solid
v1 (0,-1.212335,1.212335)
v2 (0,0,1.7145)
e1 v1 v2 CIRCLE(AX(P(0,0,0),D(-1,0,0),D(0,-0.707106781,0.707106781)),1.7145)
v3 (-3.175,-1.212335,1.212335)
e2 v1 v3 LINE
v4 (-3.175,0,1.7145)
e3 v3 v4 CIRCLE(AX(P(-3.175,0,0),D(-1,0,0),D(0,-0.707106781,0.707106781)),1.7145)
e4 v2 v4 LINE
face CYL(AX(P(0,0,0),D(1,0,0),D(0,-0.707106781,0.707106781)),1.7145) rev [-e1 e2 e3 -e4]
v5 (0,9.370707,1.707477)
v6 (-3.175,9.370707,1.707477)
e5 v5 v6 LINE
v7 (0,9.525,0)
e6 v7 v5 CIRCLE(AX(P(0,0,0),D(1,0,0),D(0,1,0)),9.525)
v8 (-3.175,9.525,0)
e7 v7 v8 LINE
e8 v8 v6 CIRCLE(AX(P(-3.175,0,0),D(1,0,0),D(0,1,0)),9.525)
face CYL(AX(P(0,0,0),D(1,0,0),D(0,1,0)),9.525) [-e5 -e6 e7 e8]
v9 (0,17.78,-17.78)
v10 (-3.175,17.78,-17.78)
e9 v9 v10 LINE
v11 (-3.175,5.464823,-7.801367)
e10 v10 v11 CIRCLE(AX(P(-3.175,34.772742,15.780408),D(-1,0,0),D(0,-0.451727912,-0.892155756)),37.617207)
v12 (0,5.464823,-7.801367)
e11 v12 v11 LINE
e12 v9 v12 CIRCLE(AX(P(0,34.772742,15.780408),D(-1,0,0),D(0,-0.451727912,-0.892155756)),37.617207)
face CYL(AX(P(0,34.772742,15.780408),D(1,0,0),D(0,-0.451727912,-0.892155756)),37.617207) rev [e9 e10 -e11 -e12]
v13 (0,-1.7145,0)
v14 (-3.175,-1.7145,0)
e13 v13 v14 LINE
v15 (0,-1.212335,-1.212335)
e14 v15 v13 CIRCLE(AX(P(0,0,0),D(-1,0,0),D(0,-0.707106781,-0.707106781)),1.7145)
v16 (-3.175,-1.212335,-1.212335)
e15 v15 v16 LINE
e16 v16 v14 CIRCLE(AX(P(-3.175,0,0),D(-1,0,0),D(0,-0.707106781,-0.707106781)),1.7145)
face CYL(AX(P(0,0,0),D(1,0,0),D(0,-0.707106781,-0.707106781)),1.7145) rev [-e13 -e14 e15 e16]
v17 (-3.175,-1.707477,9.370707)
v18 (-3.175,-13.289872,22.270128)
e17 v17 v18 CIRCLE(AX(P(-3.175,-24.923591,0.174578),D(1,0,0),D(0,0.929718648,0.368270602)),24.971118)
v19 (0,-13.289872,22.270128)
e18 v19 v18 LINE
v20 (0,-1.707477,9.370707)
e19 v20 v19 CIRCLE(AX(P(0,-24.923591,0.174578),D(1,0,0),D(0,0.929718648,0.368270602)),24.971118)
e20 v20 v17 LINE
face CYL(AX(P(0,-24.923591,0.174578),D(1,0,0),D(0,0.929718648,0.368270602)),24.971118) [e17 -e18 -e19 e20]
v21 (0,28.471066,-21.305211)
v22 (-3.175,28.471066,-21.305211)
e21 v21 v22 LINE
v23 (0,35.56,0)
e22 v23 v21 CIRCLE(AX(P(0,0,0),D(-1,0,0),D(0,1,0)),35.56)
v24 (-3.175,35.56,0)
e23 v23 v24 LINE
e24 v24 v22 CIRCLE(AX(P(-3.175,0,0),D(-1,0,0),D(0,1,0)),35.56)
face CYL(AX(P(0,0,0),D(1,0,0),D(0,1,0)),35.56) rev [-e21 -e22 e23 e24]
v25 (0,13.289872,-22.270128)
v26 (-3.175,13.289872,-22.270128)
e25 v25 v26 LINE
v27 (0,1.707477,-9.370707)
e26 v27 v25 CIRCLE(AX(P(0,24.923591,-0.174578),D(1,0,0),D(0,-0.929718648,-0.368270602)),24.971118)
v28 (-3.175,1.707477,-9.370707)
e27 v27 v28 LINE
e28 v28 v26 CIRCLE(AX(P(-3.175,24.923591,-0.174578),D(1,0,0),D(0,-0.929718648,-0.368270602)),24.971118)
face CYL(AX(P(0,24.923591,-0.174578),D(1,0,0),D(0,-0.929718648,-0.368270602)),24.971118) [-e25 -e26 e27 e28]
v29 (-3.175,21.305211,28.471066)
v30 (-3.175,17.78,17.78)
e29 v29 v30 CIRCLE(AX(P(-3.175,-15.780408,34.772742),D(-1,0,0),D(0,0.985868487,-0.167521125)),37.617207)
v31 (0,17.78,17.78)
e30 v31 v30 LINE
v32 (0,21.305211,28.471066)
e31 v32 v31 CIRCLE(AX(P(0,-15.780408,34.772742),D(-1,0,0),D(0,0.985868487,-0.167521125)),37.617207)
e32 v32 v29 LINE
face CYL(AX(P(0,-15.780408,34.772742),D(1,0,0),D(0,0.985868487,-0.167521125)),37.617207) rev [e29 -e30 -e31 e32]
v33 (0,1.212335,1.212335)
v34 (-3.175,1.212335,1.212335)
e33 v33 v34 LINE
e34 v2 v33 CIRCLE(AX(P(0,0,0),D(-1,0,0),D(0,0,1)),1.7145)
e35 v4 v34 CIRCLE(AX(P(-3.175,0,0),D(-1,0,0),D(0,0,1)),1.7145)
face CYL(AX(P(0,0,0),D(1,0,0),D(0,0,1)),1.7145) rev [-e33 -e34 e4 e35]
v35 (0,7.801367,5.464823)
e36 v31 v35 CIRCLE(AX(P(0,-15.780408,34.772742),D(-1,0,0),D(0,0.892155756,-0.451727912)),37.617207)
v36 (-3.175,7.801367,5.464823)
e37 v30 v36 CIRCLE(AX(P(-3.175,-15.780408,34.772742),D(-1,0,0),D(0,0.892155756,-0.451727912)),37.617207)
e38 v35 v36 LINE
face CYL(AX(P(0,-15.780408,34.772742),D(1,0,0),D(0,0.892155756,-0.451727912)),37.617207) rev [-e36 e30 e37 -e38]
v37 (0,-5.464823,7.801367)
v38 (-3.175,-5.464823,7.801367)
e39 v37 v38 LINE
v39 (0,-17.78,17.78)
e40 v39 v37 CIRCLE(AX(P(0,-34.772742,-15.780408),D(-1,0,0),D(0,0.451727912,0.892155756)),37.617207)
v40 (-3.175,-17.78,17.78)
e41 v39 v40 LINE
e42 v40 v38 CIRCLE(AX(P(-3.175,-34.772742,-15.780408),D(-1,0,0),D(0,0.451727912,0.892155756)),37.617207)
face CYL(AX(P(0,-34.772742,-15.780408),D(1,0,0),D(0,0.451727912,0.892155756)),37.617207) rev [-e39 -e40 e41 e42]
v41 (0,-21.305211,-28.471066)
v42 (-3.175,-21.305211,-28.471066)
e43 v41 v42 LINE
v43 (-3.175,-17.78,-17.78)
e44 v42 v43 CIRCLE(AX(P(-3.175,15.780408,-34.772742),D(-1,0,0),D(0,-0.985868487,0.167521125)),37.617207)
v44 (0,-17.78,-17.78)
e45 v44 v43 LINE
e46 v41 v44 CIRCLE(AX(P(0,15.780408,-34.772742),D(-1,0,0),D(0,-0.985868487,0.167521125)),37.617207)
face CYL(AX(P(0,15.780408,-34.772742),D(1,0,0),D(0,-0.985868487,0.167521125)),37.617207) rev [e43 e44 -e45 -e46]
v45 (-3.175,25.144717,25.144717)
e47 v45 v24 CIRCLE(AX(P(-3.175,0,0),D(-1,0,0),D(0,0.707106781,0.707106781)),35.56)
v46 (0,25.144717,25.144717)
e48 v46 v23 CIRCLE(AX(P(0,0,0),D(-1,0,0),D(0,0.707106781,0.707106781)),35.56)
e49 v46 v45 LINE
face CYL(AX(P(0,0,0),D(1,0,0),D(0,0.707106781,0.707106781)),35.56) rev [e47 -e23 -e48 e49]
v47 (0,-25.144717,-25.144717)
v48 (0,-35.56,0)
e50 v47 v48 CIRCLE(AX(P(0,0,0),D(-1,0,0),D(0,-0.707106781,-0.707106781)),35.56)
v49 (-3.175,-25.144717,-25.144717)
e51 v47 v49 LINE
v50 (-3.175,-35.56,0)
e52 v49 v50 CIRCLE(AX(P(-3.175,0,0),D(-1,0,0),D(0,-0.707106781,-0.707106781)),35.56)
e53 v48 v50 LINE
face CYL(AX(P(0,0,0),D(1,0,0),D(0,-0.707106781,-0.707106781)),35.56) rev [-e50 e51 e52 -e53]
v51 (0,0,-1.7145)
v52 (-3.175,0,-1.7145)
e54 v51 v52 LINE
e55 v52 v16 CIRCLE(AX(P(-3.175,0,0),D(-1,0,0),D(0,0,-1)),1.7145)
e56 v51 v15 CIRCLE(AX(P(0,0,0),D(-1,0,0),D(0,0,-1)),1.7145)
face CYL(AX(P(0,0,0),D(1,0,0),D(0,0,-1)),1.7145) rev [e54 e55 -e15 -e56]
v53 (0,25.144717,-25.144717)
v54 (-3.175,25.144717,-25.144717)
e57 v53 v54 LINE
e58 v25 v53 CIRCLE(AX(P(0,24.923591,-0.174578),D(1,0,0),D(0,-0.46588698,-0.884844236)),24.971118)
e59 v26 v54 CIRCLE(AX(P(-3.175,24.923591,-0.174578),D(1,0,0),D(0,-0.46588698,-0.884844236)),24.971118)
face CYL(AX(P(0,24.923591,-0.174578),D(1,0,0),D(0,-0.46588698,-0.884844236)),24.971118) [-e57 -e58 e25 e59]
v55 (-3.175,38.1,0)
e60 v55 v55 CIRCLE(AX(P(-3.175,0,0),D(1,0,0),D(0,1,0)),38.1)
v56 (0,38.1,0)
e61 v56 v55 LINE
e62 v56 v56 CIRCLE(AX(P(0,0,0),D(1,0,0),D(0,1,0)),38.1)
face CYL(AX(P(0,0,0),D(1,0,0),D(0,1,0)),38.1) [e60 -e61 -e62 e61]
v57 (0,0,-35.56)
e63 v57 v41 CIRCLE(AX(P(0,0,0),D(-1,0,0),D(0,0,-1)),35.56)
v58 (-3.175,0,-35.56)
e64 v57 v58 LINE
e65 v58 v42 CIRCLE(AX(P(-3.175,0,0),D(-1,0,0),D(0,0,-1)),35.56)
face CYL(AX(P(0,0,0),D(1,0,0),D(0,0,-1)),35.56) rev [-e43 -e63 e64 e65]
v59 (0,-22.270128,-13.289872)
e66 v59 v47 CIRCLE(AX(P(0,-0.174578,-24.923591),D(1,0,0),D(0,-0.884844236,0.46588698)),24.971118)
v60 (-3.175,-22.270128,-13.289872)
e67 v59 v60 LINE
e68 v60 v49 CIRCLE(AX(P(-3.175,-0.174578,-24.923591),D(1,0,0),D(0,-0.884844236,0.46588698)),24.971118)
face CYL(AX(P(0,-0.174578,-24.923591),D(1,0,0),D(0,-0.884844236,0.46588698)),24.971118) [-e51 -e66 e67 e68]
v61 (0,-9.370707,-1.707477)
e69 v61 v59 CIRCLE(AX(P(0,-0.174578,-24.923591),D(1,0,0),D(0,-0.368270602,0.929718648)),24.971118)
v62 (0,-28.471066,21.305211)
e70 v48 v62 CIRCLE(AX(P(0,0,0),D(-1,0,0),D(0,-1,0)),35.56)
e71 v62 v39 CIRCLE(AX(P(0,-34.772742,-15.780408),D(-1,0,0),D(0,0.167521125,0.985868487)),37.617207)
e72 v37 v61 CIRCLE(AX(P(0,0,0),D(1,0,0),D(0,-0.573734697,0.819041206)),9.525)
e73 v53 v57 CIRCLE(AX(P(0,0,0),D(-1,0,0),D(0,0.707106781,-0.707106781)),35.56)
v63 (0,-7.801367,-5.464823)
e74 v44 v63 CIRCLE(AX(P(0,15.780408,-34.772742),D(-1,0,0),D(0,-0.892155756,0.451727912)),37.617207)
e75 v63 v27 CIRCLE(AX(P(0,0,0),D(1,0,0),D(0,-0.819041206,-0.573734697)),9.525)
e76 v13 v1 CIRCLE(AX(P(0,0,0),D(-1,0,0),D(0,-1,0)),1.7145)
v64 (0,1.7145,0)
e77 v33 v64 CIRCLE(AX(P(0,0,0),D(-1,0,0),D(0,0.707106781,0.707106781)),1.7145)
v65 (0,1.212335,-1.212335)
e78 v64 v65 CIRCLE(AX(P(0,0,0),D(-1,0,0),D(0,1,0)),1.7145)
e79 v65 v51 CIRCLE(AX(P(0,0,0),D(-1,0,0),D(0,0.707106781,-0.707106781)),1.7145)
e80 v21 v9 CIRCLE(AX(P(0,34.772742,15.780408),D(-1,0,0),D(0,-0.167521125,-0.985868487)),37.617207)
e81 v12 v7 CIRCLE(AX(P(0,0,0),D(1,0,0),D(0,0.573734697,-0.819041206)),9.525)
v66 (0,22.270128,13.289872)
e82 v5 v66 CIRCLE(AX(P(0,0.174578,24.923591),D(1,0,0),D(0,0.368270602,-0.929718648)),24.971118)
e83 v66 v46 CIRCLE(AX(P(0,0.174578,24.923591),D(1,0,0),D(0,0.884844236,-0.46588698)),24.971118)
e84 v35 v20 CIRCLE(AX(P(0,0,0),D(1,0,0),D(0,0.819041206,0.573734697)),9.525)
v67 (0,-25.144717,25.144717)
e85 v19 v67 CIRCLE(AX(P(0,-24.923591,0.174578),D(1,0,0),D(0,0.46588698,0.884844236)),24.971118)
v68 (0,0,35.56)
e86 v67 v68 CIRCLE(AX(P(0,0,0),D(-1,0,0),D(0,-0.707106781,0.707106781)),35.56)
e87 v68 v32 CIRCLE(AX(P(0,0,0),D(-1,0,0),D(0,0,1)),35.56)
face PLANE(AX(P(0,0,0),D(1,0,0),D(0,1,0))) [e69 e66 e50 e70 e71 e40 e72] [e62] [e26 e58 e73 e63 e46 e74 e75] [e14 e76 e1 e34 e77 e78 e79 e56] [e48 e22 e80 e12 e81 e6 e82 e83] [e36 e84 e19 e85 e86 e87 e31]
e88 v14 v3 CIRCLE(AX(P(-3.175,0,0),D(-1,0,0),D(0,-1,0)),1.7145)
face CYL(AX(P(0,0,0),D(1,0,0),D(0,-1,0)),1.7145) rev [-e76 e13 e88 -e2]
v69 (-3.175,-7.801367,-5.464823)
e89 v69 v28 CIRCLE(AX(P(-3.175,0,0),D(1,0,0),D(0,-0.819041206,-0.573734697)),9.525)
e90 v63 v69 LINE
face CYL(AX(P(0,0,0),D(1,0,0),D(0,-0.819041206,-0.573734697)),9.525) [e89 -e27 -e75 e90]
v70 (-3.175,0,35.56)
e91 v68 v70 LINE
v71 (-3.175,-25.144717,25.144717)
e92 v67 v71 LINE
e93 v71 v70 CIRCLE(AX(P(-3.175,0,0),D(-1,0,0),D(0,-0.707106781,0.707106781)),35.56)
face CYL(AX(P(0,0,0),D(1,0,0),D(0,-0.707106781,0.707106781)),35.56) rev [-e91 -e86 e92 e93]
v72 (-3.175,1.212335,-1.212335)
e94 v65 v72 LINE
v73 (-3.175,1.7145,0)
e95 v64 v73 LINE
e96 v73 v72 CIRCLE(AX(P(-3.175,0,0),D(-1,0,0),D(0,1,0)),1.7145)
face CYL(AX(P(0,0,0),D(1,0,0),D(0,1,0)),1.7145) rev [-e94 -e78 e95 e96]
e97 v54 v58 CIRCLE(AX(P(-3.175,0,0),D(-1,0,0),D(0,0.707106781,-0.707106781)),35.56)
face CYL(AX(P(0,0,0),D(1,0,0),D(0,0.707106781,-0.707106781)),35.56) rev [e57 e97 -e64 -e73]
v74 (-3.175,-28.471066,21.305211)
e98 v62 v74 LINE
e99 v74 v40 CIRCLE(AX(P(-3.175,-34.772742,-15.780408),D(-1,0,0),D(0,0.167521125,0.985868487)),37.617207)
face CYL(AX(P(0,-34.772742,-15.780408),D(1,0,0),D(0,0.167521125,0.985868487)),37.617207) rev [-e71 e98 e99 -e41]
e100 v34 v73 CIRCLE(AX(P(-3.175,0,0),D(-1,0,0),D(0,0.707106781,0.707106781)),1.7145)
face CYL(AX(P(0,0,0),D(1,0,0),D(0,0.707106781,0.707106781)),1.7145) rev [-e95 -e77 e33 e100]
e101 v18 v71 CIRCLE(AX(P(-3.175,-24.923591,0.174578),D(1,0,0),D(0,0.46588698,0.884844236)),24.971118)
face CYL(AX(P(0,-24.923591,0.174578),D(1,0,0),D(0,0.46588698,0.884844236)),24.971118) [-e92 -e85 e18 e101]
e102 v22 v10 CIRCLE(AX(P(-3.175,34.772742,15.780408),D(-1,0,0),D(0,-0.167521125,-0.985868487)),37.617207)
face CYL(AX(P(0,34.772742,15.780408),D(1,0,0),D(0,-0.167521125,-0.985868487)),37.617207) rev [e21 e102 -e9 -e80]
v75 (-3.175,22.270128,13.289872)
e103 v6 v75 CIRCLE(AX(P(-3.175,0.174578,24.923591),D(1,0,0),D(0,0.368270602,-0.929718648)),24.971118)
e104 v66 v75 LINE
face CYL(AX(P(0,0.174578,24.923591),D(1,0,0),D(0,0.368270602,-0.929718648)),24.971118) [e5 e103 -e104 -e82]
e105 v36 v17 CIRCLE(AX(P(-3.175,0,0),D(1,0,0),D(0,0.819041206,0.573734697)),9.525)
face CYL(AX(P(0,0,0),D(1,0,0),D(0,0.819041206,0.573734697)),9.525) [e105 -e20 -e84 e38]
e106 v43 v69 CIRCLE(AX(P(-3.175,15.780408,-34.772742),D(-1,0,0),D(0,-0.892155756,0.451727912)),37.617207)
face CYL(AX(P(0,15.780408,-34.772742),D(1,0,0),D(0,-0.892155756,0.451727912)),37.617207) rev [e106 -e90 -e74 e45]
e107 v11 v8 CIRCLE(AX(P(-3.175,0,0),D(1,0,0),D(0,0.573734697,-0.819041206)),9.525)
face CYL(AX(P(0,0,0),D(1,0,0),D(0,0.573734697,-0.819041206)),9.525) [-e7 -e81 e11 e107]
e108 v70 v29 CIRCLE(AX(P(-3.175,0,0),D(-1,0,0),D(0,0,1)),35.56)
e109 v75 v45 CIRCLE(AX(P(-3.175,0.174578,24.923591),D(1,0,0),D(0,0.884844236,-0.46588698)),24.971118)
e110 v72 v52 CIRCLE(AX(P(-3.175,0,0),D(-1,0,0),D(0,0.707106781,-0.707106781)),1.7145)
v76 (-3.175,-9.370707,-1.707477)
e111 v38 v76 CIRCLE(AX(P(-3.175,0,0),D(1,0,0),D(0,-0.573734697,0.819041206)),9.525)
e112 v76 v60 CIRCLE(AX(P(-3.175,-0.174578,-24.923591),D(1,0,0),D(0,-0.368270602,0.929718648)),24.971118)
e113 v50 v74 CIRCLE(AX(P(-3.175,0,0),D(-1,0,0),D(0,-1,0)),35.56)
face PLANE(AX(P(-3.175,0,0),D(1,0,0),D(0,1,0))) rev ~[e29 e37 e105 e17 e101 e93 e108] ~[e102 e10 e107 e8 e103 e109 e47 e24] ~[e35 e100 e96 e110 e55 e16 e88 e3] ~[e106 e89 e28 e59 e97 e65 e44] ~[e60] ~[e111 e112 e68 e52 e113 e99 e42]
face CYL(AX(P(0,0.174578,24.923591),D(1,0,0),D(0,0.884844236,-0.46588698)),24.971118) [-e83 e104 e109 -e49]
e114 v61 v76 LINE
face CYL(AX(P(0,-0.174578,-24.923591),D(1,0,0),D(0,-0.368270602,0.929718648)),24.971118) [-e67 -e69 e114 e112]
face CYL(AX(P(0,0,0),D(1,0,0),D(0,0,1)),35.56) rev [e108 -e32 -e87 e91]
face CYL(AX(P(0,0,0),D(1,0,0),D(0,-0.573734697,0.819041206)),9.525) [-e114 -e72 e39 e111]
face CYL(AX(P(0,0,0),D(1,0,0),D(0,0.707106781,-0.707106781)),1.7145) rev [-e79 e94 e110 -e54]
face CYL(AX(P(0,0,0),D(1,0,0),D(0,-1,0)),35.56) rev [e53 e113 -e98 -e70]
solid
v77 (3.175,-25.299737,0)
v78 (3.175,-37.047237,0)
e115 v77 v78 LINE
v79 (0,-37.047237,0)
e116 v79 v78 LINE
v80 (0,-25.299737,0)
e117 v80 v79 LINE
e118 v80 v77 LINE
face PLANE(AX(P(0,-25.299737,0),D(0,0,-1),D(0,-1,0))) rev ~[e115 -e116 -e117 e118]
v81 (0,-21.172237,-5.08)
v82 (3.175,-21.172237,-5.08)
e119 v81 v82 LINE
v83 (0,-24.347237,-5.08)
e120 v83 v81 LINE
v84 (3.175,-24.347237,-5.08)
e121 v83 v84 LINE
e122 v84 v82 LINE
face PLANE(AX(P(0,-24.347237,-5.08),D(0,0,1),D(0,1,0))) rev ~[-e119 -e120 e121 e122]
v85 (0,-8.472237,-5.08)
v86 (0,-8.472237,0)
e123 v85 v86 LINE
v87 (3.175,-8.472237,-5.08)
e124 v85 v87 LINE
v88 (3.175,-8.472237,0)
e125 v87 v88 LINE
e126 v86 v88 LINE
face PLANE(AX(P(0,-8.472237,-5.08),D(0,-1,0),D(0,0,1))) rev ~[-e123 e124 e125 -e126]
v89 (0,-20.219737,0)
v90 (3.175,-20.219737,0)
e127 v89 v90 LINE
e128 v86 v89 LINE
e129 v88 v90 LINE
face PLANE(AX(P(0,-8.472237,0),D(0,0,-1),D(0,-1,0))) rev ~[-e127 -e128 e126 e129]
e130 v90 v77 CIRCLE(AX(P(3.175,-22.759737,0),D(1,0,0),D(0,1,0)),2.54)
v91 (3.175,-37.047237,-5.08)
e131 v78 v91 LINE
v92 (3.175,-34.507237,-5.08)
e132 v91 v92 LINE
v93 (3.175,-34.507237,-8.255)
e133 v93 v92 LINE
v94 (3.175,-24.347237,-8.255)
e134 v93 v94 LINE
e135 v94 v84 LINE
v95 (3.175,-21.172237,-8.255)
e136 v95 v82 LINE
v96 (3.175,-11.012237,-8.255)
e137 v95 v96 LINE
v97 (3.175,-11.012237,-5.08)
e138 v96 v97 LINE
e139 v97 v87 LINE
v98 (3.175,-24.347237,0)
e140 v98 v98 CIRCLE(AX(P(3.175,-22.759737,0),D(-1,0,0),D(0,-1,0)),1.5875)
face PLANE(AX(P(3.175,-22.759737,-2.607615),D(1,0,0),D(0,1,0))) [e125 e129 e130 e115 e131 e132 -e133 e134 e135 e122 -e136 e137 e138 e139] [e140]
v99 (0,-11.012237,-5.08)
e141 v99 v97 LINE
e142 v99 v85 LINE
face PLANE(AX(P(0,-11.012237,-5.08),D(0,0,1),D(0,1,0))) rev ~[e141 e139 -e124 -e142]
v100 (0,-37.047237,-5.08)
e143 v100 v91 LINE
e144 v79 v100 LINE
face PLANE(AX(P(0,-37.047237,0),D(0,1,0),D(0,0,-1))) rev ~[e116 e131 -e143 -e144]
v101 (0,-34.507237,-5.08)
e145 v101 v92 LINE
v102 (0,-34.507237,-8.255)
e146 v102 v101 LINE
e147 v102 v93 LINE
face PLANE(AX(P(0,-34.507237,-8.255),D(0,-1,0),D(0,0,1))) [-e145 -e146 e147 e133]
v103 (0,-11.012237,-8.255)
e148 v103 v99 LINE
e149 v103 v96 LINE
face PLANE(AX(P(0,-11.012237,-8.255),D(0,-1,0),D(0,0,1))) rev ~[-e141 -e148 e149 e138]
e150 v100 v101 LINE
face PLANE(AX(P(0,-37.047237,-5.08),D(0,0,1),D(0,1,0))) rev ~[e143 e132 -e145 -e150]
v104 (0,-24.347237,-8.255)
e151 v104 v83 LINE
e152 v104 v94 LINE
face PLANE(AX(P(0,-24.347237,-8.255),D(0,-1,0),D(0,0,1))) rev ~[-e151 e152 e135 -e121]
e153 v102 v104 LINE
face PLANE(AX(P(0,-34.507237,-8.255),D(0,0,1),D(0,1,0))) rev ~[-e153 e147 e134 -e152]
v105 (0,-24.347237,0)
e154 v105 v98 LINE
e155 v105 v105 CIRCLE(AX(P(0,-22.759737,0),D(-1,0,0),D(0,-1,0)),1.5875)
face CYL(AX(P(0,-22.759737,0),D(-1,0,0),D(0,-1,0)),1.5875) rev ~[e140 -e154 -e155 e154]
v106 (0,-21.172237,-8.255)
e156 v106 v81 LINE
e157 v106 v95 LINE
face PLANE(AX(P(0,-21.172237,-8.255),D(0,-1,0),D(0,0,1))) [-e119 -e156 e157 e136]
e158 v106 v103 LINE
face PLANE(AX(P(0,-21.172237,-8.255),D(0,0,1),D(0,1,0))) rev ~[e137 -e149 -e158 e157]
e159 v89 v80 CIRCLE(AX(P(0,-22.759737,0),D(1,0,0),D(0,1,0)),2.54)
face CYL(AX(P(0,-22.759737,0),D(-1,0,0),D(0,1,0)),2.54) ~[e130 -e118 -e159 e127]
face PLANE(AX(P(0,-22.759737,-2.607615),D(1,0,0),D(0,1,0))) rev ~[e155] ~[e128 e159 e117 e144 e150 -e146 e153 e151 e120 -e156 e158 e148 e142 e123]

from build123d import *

# Parameters (mm, degrees)
F0_W     = 10.16
F0_H     = 3.175
F1_DEPTH = 3.175
F2_R     = 38.1
F3_DEPTH = 3.175


with BuildPart() as f1:
    # F0 (on Right) → F1 (new body)
    with BuildSketch(Plane.YZ):
        with BuildLine():
            Line((-37.0472365969, -5.08), (-34.5072365969, -5.08))
            Line((-34.5072365969, -5.08), (-24.3472365969, -5.08))
            Line((-24.3472365969, -5.08), (-21.1722365969, -5.08))
            Line((-21.1722365969, -5.08), (-11.0122365969, -5.08))
            Line((-11.0122365969, -5.08), (-8.4722365969, -5.08))
            Line((-8.4722365969, -5.08), (-8.4722365969, 0))
            Line((-8.4722365969, 0), (-20.2197365969, 0))
            ThreePointArc((-20.2197365969, 0), (-22.7597365969, -2.54), (-25.2997365969, 0))
            Line((-25.2997365969, 0), (-37.0472365969, 0))
            Line((-37.0472365969, 0), (-37.0472365969, -5.08))
        make_face()
        with Locations((-29.4272365969, -6.6675)):
            Rectangle(F0_W, F0_H)
        with Locations((-16.0922365969, -6.6675)):
            Rectangle(F0_W, F0_H)
        with BuildLine():
            Line((-24.3472365969, 0), (-25.2997365969, 0))
            ThreePointArc((-25.2997365969, 0), (-22.7597365969, -2.54), (-20.2197365969, 0))
            Line((-20.2197365969, 0), (-21.1722365969, 0))
            ThreePointArc((-21.1722365969, 0), (-22.7597365969, -1.5875), (-24.3472365969, 0))
        make_face()
        with BuildLine():
            ThreePointArc((-20.2197365969, 0), (-22.7597365969, 2.54), (-25.2997365969, 0))
            Line((-25.2997365969, 0), (-24.3472365969, 0))
            ThreePointArc((-24.3472365969, 0), (-22.7597365969, 1.5875), (-21.1722365969, 0))
            Line((-21.1722365969, 0), (-20.2197365969, 0))
        make_face()
    extrude(amount=F1_DEPTH)


with BuildPart() as f3:
    # F2 (on Right) → F3 (new body)
    with BuildSketch(Plane.YZ):
        Circle(F2_R)
        with BuildLine():
            ThreePointArc((25.144717139, 25.144717139), (32.8531561761, 13.6082228549), (35.56, 0))
            ThreePointArc((35.56, 0), (33.7412558495, -11.2268095956), (28.4710655964, -21.305211189))
            ThreePointArc((28.4710655964, -21.305211189), (26.87654165, -23.2844392016), (25.144717139, -25.144717139))
            ThreePointArc((25.144717139, -25.144717139), (13.6082228549, -32.8531561761), (0, -35.56))
            ThreePointArc((0, -35.56), (-11.2268095956, -33.7412558495), (-21.305211189, -28.4710655964))
            ThreePointArc((-21.305211189, -28.4710655964), (-23.2844392016, -26.87654165), (-25.144717139, -25.144717139))
            ThreePointArc((-25.144717139, -25.144717139), (-32.8531561761, -13.6082228549), (-35.56, 0))
            ThreePointArc((-35.56, 0), (-33.7412558495, 11.2268095956), (-28.4710655964, 21.305211189))
            ThreePointArc((-28.4710655964, 21.305211189), (-26.87654165, 23.2844392016), (-25.144717139, 25.144717139))
            ThreePointArc((-25.144717139, 25.144717139), (-13.6082228549, 32.8531561761), (0, 35.56))
            ThreePointArc((0, 35.56), (11.2268095956, 33.7412558495), (21.305211189, 28.4710655964))
            ThreePointArc((21.305211189, 28.4710655964), (23.2844392016, 26.87654165), (25.144717139, 25.144717139))
        make_face(mode=Mode.SUBTRACT)
        with BuildLine():
            ThreePointArc((7.8013674913, 5.4648229858), (8.7891665031, 3.6709913076), (9.3707069317, 1.7074766763))
            ThreePointArc((9.3707069317, 1.7074766763), (16.8578110254, 6.3433195038), (22.2701280605, 13.2898719395))
            Line((22.2701280605, 13.2898719395), (17.78, 17.78))
            ThreePointArc((17.78, 17.78), (13.4466886732, 11.0908696329), (7.8013674913, 5.4648229858))
        make_face()
        with BuildLine():
            ThreePointArc((17.78, -17.78), (11.0908696329, -13.4466886732), (5.4648229858, -7.8013674913))
            ThreePointArc((5.4648229858, -7.8013674913), (3.6709913076, -8.7891665031), (1.7074766763, -9.3707069317))
            ThreePointArc((1.7074766763, -9.3707069317), (6.3433195038, -16.8578110254), (13.2898719395, -22.2701280605))
            Line((13.2898719395, -22.2701280605), (17.78, -17.78))
        make_face()
        with BuildLine():
            ThreePointArc((-17.78, -17.78), (-13.4466886732, -11.0908696329), (-7.8013674913, -5.4648229858))
            ThreePointArc((-7.8013674913, -5.4648229858), (-8.7891665031, -3.6709913076), (-9.3707069317, -1.7074766763))
            ThreePointArc((-9.3707069317, -1.7074766763), (-16.8578110254, -6.3433195038), (-22.2701280605, -13.2898719395))
            Line((-22.2701280605, -13.2898719395), (-17.78, -17.78))
        make_face()
        with BuildLine():
            ThreePointArc((-5.4648229858, 7.8013674913), (-3.6709913076, 8.7891665031), (-1.7074766763, 9.3707069317))
            ThreePointArc((-1.7074766763, 9.3707069317), (-6.3433195038, 16.8578110254), (-13.2898719395, 22.2701280605))
            Line((-13.2898719395, 22.2701280605), (-17.78, 17.78))
            ThreePointArc((-17.78, 17.78), (-11.0908696329, 13.4466886732), (-5.4648229858, 7.8013674913))
        make_face()
        with BuildLine():
            ThreePointArc((-9.3707069317, -1.7074766763), (-5.6100693847, -0.5512258396), (-1.7145, 0))
            ThreePointArc((-1.7145, 0), (-1.5839914585, 0.6561107448), (-1.2123345763, 1.2123345763))
            ThreePointArc((-1.2123345763, 1.2123345763), (-3.166406309, 4.6179692284), (-5.4648229858, 7.8013674913))
            ThreePointArc((-5.4648229858, 7.8013674913), (-8.8106620826, 3.619096388), (-9.3707069317, -1.7074766763))
        make_face()
        with BuildLine():
            ThreePointArc((0, 1.7145), (0.6561107448, 1.5839914585), (1.2123345763, 1.2123345763))
            ThreePointArc((1.2123345763, 1.2123345763), (4.6179692284, 3.166406309), (7.8013674913, 5.4648229858))
            ThreePointArc((7.8013674913, 5.4648229858), (3.619096388, 8.8106620826), (-1.7074766763, 9.3707069317))
            ThreePointArc((-1.7074766763, 9.3707069317), (-0.5512258396, 5.6100693847), (0, 1.7145))
        make_face()
        with BuildLine():
            ThreePointArc((9.3707069317, 1.7074766763), (5.6100693847, 0.5512258396), (1.7145, 0))
            ThreePointArc((1.7145, 0), (1.5839914585, -0.6561107448), (1.2123345763, -1.2123345763))
            ThreePointArc((1.2123345763, -1.2123345763), (3.166406309, -4.6179692284), (5.4648229858, -7.8013674913))
            ThreePointArc((5.4648229858, -7.8013674913), (8.4492030376, -4.3973393126), (9.525, 0))
            ThreePointArc((9.525, 0), (9.4863483102, 0.8572168557), (9.3707069317, 1.7074766763))
        make_face()
        with BuildLine():
            ThreePointArc((1.7074766763, -9.3707069317), (0.5512258396, -5.6100693847), (0, -1.7145))
            ThreePointArc((0, -1.7145), (-0.6561107448, -1.5839914585), (-1.2123345763, -1.2123345763))
            ThreePointArc((-1.2123345763, -1.2123345763), (-4.6179692284, -3.166406309), (-7.8013674913, -5.4648229858))
            ThreePointArc((-7.8013674913, -5.4648229858), (-3.619096388, -8.8106620826), (1.7074766763, -9.3707069317))
        make_face()
        with BuildLine():
            Line((17.78, 17.78), (22.2701280605, 13.2898719395))
            ThreePointArc((22.2701280605, 13.2898719395), (24.4424397534, 19.0390659545), (25.144717139, 25.144717139))
            Line((25.144717139, 25.144717139), (17.78, 17.78))
        make_face()
        with BuildLine():
            Line((25.144717139, -25.144717139), (17.78, -17.78))
            Line((17.78, -17.78), (13.2898719395, -22.2701280605))
            ThreePointArc((13.2898719395, -22.2701280605), (19.0390659545, -24.4424397534), (25.144717139, -25.144717139))
        make_face()
        with BuildLine():
            Line((-25.144717139, -25.144717139), (-17.78, -17.78))
            Line((-17.78, -17.78), (-22.2701280605, -13.2898719395))
            ThreePointArc((-22.2701280605, -13.2898719395), (-24.4424397534, -19.0390659545), (-25.144717139, -25.144717139))
        make_face()
        with BuildLine():
            Line((-17.78, 17.78), (-13.2898719395, 22.2701280605))
            ThreePointArc((-13.2898719395, 22.2701280605), (-19.0390659545, 24.4424397534), (-25.144717139, 25.144717139))
            Line((-25.144717139, 25.144717139), (-17.78, 17.78))
        make_face()
        with BuildLine():
            ThreePointArc((21.305211189, 28.4710655964), (19.9447933347, 22.9929176992), (17.78, 17.78))
            Line((17.78, 17.78), (25.144717139, 25.144717139))
            Line((25.144717139, 25.144717139), (21.305211189, 28.4710655964))
        make_face()
        with BuildLine():
            ThreePointArc((28.4710655964, -21.305211189), (22.9929176992, -19.9447933347), (17.78, -17.78))
            Line((17.78, -17.78), (25.144717139, -25.144717139))
            Line((25.144717139, -25.144717139), (28.4710655964, -21.305211189))
        make_face()
        with BuildLine():
            ThreePointArc((-21.305211189, -28.4710655964), (-19.9447933347, -22.9929176992), (-17.78, -17.78))
            Line((-17.78, -17.78), (-25.144717139, -25.144717139))
            Line((-25.144717139, -25.144717139), (-21.305211189, -28.4710655964))
        make_face()
        with BuildLine():
            ThreePointArc((-28.4710655964, 21.305211189), (-22.9929176992, 19.9447933347), (-17.78, 17.78))
            Line((-17.78, 17.78), (-25.144717139, 25.144717139))
            Line((-25.144717139, 25.144717139), (-28.4710655964, 21.305211189))
        make_face()
        with BuildLine():
            ThreePointArc((-1.2123345763, 1.2123345763), (-0.6561107448, 1.5839914585), (0, 1.7145))
            ThreePointArc((0, 1.7145), (-0.5512258396, 5.6100693847), (-1.7074766763, 9.3707069317))
            ThreePointArc((-1.7074766763, 9.3707069317), (-3.6709913076, 8.7891665031), (-5.4648229858, 7.8013674913))
            ThreePointArc((-5.4648229858, 7.8013674913), (-3.166406309, 4.6179692284), (-1.2123345763, 1.2123345763))
        make_face()
        with BuildLine():
            ThreePointArc((1.2123345763, 1.2123345763), (1.5839914585, 0.6561107448), (1.7145, 0))
            ThreePointArc((1.7145, 0), (5.6100693847, 0.5512258396), (9.3707069317, 1.7074766763))
            ThreePointArc((9.3707069317, 1.7074766763), (8.7891665031, 3.6709913076), (7.8013674913, 5.4648229858))
            ThreePointArc((7.8013674913, 5.4648229858), (4.6179692284, 3.166406309), (1.2123345763, 1.2123345763))
        make_face()
        with BuildLine():
            ThreePointArc((5.4648229858, -7.8013674913), (3.166406309, -4.6179692284), (1.2123345763, -1.2123345763))
            ThreePointArc((1.2123345763, -1.2123345763), (0.6561107448, -1.5839914585), (0, -1.7145))
            ThreePointArc((0, -1.7145), (0.5512258396, -5.6100693847), (1.7074766763, -9.3707069317))
            ThreePointArc((1.7074766763, -9.3707069317), (3.6709913076, -8.7891665031), (5.4648229858, -7.8013674913))
        make_face()
        with BuildLine():
            ThreePointArc((-7.8013674913, -5.4648229858), (-4.6179692284, -3.166406309), (-1.2123345763, -1.2123345763))
            ThreePointArc((-1.2123345763, -1.2123345763), (-1.5839914585, -0.6561107448), (-1.7145, 0))
            ThreePointArc((-1.7145, 0), (-5.6100693847, -0.5512258396), (-9.3707069317, -1.7074766763))
            ThreePointArc((-9.3707069317, -1.7074766763), (-8.7891665031, -3.6709913076), (-7.8013674913, -5.4648229858))
        make_face()
        with BuildLine():
            Line((-28.4710655964, 21.305211189), (-25.144717139, 25.144717139))
            ThreePointArc((-25.144717139, 25.144717139), (-26.87654165, 23.2844392016), (-28.4710655964, 21.305211189))
        make_face()
        with BuildLine():
            Line((21.305211189, 28.4710655964), (25.144717139, 25.144717139))
            ThreePointArc((25.144717139, 25.144717139), (23.2844392016, 26.87654165), (21.305211189, 28.4710655964))
        make_face()
        with BuildLine():
            Line((28.4710655964, -21.305211189), (25.144717139, -25.144717139))
            ThreePointArc((25.144717139, -25.144717139), (26.87654165, -23.2844392016), (28.4710655964, -21.305211189))
        make_face()
        with BuildLine():
            Line((-21.305211189, -28.4710655964), (-25.144717139, -25.144717139))
            ThreePointArc((-25.144717139, -25.144717139), (-23.2844392016, -26.87654165), (-21.305211189, -28.4710655964))
        make_face()
    extrude(amount=-F3_DEPTH)


solid = Compound([f1.part, f3.part])
